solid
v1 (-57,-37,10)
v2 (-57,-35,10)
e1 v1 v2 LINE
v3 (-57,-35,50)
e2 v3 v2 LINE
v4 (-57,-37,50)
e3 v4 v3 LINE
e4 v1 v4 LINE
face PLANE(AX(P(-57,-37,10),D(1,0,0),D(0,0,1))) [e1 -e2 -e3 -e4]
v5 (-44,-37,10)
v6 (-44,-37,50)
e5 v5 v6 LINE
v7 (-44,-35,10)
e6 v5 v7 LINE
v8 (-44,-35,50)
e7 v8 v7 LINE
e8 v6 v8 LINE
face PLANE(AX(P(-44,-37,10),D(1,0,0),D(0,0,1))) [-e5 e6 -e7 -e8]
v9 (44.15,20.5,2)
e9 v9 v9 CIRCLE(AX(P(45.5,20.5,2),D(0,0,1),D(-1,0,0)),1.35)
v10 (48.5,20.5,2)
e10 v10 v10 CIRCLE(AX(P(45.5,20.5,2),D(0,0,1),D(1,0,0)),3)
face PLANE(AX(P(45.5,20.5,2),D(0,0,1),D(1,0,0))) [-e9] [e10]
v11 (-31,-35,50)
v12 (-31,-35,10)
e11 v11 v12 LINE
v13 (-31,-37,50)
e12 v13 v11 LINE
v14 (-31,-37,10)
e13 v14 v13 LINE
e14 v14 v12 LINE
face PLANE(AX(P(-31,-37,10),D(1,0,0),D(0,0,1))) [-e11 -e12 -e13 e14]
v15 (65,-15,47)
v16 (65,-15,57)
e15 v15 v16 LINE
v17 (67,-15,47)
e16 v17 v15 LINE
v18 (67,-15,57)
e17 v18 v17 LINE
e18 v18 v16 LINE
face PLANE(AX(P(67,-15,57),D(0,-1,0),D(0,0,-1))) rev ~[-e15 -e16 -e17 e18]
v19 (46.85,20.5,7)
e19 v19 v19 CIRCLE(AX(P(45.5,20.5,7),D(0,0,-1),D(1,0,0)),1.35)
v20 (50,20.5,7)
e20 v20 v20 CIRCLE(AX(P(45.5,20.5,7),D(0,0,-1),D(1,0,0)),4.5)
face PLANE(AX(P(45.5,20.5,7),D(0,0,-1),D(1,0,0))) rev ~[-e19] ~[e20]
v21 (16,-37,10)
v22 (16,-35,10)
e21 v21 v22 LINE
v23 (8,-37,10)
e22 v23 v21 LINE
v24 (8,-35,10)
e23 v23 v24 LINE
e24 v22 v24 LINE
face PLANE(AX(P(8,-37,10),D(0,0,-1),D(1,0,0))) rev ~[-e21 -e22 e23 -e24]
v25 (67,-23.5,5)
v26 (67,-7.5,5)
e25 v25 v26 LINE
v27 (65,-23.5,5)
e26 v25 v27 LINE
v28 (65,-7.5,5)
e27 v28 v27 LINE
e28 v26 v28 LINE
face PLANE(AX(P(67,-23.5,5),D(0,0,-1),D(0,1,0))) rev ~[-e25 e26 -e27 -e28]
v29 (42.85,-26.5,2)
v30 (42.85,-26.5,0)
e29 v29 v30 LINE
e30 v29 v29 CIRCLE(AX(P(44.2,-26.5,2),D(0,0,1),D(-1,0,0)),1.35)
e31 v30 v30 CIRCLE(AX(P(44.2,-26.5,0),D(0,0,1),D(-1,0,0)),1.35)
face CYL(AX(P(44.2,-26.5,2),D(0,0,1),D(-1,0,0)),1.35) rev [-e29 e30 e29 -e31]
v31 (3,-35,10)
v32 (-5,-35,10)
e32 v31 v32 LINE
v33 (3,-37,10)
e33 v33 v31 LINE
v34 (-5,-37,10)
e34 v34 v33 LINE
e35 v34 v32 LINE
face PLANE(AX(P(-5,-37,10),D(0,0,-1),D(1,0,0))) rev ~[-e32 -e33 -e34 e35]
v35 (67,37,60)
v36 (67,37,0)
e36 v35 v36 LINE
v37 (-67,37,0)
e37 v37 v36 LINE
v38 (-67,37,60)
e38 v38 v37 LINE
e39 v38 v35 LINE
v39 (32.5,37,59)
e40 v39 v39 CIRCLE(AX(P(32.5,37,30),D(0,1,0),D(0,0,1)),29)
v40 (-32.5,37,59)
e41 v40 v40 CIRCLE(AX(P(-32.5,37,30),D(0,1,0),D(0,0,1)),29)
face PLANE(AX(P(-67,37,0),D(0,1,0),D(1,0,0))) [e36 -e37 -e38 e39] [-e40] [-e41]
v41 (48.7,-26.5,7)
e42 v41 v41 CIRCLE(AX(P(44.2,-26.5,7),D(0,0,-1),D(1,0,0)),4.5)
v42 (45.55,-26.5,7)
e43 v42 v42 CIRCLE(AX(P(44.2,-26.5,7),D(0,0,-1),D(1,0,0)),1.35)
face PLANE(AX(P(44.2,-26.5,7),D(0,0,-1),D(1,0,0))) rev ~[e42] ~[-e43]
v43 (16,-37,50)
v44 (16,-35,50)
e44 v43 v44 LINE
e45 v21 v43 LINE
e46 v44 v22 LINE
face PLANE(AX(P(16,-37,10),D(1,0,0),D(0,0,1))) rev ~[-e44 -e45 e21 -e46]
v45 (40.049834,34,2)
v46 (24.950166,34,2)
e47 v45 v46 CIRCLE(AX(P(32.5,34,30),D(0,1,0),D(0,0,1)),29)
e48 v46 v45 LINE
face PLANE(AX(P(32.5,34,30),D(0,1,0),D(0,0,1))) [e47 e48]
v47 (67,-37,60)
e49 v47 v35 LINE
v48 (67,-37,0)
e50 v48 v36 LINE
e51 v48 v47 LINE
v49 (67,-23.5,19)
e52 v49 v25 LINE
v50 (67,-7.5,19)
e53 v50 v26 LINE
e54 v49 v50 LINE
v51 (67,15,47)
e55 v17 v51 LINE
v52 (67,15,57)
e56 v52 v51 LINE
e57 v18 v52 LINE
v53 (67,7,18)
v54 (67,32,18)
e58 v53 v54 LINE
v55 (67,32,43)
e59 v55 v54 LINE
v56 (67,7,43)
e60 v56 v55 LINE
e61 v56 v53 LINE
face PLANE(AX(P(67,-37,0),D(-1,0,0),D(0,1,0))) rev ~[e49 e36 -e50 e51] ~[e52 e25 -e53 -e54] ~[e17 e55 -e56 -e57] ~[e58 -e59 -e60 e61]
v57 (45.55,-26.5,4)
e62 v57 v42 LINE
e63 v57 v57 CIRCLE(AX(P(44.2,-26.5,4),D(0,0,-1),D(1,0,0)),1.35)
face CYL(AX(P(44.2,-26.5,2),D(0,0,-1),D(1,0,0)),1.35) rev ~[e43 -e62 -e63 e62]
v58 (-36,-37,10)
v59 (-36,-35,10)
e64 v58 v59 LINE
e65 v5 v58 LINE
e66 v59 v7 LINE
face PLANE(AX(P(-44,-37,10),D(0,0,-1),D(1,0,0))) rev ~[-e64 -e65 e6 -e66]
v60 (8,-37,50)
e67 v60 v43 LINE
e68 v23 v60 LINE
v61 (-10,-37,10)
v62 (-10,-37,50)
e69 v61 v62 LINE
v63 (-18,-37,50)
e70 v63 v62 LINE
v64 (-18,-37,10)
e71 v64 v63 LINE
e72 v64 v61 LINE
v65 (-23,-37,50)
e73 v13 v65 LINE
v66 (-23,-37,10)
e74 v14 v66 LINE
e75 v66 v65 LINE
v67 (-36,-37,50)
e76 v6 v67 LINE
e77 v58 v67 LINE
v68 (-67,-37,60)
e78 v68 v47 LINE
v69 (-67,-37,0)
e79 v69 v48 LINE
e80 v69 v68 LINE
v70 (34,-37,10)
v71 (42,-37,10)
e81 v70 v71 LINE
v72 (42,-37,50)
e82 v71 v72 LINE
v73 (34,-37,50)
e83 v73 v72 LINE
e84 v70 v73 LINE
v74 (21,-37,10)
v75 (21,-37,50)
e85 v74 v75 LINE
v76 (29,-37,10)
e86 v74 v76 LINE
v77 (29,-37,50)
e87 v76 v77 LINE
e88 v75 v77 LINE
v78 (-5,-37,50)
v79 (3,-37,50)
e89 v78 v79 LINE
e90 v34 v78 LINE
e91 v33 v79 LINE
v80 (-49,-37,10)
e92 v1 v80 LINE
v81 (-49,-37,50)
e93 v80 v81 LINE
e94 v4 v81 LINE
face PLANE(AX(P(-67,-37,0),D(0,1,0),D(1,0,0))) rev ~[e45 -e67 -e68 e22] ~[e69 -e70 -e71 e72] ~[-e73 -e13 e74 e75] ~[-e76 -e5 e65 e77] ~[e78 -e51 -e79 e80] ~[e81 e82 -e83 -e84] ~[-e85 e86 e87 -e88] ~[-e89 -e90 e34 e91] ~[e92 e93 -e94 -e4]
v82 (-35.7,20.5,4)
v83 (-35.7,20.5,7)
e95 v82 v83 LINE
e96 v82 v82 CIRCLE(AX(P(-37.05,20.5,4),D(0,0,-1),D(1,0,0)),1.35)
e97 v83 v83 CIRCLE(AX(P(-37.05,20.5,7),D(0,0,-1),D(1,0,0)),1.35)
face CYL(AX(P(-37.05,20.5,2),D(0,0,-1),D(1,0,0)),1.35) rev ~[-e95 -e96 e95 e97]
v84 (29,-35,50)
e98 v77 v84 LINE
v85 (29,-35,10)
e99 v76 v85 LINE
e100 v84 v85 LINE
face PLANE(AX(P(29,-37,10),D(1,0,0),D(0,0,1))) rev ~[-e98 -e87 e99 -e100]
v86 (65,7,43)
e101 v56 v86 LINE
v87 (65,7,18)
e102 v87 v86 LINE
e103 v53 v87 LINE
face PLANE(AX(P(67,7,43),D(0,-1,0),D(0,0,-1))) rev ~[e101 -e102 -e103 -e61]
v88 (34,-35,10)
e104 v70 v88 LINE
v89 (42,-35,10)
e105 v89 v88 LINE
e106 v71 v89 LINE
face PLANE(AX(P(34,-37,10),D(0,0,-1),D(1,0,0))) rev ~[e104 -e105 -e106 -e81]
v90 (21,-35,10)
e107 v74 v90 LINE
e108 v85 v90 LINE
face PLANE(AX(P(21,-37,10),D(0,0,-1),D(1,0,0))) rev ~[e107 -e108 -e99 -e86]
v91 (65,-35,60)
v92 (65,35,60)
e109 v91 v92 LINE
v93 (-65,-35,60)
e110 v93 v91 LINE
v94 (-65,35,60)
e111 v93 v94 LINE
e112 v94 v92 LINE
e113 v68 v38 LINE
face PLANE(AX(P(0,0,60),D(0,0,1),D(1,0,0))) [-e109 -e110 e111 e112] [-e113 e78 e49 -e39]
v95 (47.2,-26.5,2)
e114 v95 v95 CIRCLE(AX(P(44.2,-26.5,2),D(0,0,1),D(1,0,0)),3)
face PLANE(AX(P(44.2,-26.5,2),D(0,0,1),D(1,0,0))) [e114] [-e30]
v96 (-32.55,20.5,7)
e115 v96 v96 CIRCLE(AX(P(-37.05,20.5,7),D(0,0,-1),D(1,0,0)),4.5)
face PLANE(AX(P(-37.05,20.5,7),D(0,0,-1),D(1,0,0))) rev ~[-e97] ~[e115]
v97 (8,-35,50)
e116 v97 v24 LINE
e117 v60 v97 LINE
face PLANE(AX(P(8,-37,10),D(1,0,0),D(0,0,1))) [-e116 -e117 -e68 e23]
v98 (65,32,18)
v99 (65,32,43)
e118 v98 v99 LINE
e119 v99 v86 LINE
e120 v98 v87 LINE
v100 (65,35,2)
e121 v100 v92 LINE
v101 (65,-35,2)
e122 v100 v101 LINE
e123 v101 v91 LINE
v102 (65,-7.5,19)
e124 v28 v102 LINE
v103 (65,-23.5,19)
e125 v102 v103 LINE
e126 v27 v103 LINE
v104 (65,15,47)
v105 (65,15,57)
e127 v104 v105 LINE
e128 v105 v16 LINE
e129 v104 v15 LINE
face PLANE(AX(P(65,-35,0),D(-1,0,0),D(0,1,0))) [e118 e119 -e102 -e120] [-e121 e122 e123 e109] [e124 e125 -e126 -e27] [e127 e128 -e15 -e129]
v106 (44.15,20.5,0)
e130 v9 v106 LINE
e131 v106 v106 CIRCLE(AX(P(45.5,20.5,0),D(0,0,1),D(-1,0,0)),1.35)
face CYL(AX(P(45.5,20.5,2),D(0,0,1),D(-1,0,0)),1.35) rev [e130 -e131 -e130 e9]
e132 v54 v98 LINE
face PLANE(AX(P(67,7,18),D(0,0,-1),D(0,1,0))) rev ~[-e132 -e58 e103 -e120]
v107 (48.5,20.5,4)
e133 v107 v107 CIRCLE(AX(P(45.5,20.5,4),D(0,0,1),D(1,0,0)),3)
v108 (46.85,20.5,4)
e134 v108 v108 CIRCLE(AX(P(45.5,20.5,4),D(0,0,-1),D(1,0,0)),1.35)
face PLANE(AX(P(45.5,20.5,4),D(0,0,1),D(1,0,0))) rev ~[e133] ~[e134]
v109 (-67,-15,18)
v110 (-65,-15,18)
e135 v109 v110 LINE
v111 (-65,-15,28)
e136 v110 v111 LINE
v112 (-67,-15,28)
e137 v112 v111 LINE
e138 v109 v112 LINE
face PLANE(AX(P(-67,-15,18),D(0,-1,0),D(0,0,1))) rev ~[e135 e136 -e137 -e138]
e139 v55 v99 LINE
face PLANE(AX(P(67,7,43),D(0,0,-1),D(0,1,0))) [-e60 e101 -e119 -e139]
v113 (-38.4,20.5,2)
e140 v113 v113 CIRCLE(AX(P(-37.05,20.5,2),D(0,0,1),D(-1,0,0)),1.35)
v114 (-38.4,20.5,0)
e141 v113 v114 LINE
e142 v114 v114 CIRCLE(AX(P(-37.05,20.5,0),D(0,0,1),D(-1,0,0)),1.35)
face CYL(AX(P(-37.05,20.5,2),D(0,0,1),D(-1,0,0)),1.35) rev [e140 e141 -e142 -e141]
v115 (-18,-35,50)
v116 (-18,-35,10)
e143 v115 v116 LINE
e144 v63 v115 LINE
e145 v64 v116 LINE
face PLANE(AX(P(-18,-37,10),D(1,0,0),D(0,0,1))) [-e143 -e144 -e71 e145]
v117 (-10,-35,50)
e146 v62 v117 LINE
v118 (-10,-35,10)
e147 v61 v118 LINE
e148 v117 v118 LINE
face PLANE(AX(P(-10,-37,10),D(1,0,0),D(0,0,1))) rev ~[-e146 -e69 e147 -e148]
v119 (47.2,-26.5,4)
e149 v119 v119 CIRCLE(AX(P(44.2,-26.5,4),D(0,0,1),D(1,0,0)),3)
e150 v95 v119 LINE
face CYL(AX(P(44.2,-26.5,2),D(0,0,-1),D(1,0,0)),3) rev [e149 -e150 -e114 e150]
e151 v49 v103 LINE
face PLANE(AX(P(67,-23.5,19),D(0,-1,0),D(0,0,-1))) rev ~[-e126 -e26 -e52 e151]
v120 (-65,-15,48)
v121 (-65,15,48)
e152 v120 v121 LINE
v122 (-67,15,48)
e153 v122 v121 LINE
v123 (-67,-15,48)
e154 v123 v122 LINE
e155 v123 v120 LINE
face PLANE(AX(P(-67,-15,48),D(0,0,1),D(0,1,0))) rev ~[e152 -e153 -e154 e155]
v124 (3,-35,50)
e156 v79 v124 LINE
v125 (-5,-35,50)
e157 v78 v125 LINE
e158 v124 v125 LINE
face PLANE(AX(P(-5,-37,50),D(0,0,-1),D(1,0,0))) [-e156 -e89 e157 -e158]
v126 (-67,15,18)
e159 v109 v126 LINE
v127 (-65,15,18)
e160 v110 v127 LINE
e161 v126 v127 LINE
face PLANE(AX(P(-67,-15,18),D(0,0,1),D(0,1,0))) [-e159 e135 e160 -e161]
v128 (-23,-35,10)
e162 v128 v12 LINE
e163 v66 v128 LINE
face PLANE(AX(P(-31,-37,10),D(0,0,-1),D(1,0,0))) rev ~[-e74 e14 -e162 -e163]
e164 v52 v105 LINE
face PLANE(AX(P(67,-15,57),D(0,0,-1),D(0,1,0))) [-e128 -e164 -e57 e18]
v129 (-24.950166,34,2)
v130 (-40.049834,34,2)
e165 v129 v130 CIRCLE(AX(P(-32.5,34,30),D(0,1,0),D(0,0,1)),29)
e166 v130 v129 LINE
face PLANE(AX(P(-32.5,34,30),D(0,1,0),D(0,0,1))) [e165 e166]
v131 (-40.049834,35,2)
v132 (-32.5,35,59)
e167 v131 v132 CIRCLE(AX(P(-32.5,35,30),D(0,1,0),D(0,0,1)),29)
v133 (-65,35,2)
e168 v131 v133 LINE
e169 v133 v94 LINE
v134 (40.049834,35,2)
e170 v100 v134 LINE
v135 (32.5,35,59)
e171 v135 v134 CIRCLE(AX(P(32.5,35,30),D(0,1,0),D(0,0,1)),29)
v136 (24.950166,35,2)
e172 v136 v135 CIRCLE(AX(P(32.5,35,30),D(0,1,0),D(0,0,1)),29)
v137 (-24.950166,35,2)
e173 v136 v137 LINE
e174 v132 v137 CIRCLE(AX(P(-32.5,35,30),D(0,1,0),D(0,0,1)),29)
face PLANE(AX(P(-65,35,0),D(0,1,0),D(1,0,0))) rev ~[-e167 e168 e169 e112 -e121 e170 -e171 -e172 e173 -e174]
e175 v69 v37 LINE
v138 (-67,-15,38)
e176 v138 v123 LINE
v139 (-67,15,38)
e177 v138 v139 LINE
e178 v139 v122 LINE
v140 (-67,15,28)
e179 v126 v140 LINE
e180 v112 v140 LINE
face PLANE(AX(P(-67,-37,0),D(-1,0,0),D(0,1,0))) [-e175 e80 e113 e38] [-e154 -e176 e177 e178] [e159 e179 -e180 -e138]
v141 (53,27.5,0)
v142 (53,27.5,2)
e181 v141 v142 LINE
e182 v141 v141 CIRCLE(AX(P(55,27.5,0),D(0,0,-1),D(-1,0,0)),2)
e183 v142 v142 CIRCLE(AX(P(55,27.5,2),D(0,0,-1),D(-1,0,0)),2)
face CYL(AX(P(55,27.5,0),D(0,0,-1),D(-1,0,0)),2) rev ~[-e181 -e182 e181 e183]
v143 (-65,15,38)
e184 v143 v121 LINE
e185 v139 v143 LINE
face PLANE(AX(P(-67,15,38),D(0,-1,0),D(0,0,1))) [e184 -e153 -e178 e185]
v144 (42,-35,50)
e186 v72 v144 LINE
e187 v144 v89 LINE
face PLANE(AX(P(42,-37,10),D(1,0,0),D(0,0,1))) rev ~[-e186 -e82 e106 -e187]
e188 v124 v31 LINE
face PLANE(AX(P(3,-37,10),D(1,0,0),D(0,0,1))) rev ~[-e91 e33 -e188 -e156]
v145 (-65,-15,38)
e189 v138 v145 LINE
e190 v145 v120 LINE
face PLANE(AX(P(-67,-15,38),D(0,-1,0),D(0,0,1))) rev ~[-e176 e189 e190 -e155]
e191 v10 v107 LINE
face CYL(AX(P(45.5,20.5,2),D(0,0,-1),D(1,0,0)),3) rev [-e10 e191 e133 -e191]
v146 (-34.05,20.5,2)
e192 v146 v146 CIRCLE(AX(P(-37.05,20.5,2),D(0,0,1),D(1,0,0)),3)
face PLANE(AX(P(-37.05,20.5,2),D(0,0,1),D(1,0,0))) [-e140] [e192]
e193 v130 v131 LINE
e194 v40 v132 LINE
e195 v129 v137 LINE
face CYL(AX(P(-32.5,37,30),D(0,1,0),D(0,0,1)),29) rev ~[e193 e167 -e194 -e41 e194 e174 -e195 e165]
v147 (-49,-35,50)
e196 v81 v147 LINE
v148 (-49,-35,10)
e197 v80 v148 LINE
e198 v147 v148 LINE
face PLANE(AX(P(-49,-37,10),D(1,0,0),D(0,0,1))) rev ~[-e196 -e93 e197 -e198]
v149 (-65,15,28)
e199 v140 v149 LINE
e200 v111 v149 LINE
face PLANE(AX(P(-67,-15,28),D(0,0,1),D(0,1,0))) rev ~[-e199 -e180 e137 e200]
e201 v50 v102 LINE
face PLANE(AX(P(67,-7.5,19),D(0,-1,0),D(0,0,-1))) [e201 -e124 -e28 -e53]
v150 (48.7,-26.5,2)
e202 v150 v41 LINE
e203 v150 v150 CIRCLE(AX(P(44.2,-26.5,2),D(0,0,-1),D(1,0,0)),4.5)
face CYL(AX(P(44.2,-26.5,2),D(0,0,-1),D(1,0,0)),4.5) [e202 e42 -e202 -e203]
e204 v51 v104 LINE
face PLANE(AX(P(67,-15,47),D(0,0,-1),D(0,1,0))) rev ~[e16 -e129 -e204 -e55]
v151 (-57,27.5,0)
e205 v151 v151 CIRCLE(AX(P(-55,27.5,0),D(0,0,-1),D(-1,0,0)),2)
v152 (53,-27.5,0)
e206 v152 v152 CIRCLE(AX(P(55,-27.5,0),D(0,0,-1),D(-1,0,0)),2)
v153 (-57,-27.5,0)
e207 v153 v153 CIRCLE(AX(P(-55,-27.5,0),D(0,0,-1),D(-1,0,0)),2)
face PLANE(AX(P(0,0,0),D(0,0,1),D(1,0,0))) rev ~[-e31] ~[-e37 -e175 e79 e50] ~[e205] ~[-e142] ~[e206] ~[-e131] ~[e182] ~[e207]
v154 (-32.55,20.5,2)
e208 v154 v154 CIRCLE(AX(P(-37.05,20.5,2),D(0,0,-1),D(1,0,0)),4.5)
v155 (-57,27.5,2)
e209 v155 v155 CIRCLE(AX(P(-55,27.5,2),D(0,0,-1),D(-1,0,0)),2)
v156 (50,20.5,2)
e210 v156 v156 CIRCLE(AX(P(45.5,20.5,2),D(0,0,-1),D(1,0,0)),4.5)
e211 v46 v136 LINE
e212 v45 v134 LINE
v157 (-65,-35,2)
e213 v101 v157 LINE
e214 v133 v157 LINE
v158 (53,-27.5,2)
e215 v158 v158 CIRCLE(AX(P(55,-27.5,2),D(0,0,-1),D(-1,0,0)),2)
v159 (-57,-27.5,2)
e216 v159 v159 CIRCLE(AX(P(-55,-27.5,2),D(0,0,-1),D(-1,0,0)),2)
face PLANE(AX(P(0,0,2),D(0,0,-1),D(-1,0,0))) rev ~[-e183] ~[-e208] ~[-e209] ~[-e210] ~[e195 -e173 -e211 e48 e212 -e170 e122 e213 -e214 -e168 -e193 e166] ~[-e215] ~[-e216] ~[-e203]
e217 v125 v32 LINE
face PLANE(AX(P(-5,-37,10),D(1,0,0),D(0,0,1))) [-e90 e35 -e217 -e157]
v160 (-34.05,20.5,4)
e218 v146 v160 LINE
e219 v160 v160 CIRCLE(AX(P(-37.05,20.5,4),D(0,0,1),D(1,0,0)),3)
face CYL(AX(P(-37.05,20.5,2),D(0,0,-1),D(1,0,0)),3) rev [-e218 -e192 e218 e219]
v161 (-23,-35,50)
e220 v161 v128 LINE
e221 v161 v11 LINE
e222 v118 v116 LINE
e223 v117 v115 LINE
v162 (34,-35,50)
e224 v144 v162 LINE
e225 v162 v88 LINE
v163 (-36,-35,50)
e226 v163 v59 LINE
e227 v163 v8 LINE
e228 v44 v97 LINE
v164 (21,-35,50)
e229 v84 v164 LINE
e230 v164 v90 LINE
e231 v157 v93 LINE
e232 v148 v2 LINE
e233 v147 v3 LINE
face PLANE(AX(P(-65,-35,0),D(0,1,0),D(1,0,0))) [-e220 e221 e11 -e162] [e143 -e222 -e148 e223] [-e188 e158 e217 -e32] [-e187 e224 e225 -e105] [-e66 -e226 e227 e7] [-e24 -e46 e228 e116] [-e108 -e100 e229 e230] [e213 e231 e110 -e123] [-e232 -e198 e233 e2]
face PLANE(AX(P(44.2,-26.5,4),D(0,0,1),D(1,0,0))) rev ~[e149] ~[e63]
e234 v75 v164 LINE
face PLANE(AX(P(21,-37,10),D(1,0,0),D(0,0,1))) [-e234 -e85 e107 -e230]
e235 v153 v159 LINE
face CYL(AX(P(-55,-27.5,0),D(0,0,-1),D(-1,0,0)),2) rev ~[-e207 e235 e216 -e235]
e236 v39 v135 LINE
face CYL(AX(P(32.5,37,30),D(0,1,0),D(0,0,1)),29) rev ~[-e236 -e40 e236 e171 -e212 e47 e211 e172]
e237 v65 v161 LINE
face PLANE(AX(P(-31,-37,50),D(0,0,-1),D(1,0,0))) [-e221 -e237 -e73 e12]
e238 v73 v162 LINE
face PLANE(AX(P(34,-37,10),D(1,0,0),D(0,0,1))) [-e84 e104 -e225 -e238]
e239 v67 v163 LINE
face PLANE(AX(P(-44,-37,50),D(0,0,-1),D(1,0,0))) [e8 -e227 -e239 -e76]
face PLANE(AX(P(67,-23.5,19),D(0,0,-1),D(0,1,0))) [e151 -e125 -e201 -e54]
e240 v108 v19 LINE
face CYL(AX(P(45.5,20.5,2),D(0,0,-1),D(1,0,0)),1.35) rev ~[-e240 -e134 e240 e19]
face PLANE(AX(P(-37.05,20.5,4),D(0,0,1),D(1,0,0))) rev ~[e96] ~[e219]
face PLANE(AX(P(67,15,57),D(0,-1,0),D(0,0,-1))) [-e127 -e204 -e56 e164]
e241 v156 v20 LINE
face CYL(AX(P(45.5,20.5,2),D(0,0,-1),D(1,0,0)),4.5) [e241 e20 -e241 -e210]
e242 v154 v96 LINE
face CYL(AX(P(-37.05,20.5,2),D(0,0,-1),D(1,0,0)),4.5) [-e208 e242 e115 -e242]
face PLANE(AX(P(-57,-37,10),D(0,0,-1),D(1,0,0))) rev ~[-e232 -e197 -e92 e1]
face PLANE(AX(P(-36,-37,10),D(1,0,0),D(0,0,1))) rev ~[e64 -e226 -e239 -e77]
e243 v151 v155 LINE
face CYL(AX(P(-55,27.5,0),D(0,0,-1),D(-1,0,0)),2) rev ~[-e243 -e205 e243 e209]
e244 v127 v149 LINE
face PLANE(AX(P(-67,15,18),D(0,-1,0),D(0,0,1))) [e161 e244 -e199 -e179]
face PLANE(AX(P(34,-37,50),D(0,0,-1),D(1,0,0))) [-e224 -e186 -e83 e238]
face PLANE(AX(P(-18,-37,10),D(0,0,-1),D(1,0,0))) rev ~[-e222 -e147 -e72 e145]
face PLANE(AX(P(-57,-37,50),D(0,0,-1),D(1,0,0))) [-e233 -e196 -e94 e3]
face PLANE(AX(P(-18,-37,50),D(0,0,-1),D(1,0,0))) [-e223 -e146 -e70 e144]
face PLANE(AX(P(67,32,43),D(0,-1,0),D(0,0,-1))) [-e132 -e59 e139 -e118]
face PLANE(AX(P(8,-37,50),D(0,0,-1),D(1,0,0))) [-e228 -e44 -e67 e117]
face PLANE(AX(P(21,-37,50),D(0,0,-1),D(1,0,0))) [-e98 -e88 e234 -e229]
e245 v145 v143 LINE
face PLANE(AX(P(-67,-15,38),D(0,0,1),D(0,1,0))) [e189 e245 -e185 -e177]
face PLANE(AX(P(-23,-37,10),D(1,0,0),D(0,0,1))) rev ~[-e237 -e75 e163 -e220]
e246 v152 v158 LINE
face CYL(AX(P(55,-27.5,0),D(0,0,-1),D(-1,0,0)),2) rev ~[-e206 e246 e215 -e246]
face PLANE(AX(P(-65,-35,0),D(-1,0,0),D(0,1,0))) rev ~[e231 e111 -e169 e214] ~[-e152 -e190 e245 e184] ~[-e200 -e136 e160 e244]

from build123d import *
from build123d.topology import SkipClean

# Parameters (mm, degrees)
ESBO_O1_W                = 134
ESBO_O1_H                = 74
ESBO_O1_W_2              = 130
ESBO_O1_H_2              = 70
RESSALTO_EXTRUS_O1_DEPTH = 60
ESBO_O2_W                = 134
ESBO_O2_H                = 74
ESBO_O2_R                = 2
RESSALTO_EXTRUS_O2_DEPTH = 2
ESBO_O3_W                = 25
ESBO_O3_H                = 25
ESBO_O3_W_2              = 14
ESBO_O3_H_2              = 16
ESBO_O3_W_3              = 10
ESBO_O3_H_3              = 30
CORTE_EXTRUS_O1_DEPTH    = 10
ESBO_O6_W                = 8
ESBO_O6_H                = 40
CORTE_EXTRUS_O2_DEPTH    = 10
ESBO_O7_W                = 10
ESBO_O7_H                = 30
CORTE_EXTRUS_O3_DEPTH    = 12
ESBO_O8_R                = 4.5
ESBO_O8_R_2              = 1.35
RESSALTO_EXTRUS_O3_DEPTH = 5
ESBO_O8_3_R              = 1.35
CORTE_EXTRUS_O4_DEPTH    = 97.031244915
ESBO_O9_R                = 3
CORTE_EXTRUS_O5_DEPTH    = 2
ESBO_O10_R               = 29
CORTE_EXTRUS_O6_DEPTH    = 3


with BuildPart() as part:
    # Esboço1 → Ressalto-extrusão1 (new body)
    with BuildSketch(Plane.XY):
        Rectangle(ESBO_O1_W, ESBO_O1_H)
        Rectangle(ESBO_O1_W_2, ESBO_O1_H_2, mode=Mode.SUBTRACT)
    extrude(amount=RESSALTO_EXTRUS_O1_DEPTH)

    # Esboço2 → Ressalto-extrusão2 (add)
    with BuildSketch(Plane(origin=(0, 0, 0), x_dir=(-1, 0, 0), z_dir=(0, 0, -1))):
        Rectangle(ESBO_O2_W, ESBO_O2_H)
        with Locations((-55, -27.5)):
            Circle(ESBO_O2_R, mode=Mode.SUBTRACT)
        with Locations((55, -27.5)):
            Circle(ESBO_O2_R, mode=Mode.SUBTRACT)
        with Locations((55, 27.5)):
            Circle(ESBO_O2_R, mode=Mode.SUBTRACT)
        with Locations((-55, 27.5)):
            Circle(ESBO_O2_R, mode=Mode.SUBTRACT)
    extrude(amount=-RESSALTO_EXTRUS_O2_DEPTH)

    # Esboço3 → Corte-extrusão1 (cut)
    with BuildSketch(Plane(origin=(67, 0, 0), x_dir=(0, 0, -1), z_dir=(1, 0, 0))):
        with Locations((-30.5, 19.5)):
            Rectangle(ESBO_O3_W, ESBO_O3_H)
        with Locations((-12, -15.5)):
            Rectangle(ESBO_O3_W_2, ESBO_O3_H_2)
        with Locations((-52, 0)):
            Rectangle(ESBO_O3_W_3, ESBO_O3_H_3)
    extrude(amount=-CORTE_EXTRUS_O1_DEPTH, mode=Mode.SUBTRACT)

    # Esboço6 → Corte-extrusão2 (cut)
    with BuildSketch(Plane.XZ.offset(37)):
        with Locations((-53, 30)):
            Rectangle(ESBO_O6_W, ESBO_O6_H)
        with Locations((-40, 30)):
            Rectangle(ESBO_O6_W, ESBO_O6_H)
        with Locations((-27, 30)):
            Rectangle(ESBO_O6_W, ESBO_O6_H)
        with Locations((-14, 30)):
            Rectangle(ESBO_O6_W, ESBO_O6_H)
        with Locations((-1, 30)):
            Rectangle(ESBO_O6_W, ESBO_O6_H)
        with Locations((12, 30)):
            Rectangle(ESBO_O6_W, ESBO_O6_H)
        with Locations((25, 30)):
            Rectangle(ESBO_O6_W, ESBO_O6_H)
        with Locations((38, 30)):
            Rectangle(ESBO_O6_W, ESBO_O6_H)
    extrude(amount=-CORTE_EXTRUS_O2_DEPTH, mode=Mode.SUBTRACT)

    # Esboço7 → Corte-extrusão3 (cut)
    with BuildSketch(Plane.ZY.offset(67)):
        with Locations((43, 0)):
            Rectangle(ESBO_O7_W, ESBO_O7_H)
        with Locations((23, 0)):
            Rectangle(ESBO_O7_W, ESBO_O7_H)
    extrude(amount=-CORTE_EXTRUS_O3_DEPTH, mode=Mode.SUBTRACT)

    # Esboço8 → Ressalto-extrusão3 (add)
    # profile 1 of 3: a face of its own
    with BuildSketch(Plane(origin=(0, 0, 2), x_dir=(-1, 0, 0), z_dir=(0, 0, -1))):
        with Locations(Location((37.05, 20.5, 0), (0, 0, 180))):
            Circle(ESBO_O8_R)
        with Locations(Location((37.05, 20.5, 0), (0, 0, 180))):
            Circle(ESBO_O8_R_2, mode=Mode.SUBTRACT)
    # profile 2 of 3: a face of its own
    with BuildSketch(Plane(origin=(0, 0, 2), x_dir=(-1, 0, 0), z_dir=(0, 0, -1))):
        with Locations(Location((-45.5, 20.5, 0), (0, 0, 180))):
            Circle(ESBO_O8_R)
        with Locations(Location((-45.5, 20.5, 0), (0, 0, 180))):
            Circle(ESBO_O8_R_2, mode=Mode.SUBTRACT)
    # profile 3 of 3: a face of its own
    with BuildSketch(Plane(origin=(0, 0, 2), x_dir=(-1, 0, 0), z_dir=(0, 0, -1))):
        with Locations(Location((-44.2, -26.5, 0), (0, 0, 180))):
            Circle(ESBO_O8_R)
        with Locations(Location((-44.2, -26.5, 0), (0, 0, 180))):
            Circle(ESBO_O8_R_2, mode=Mode.SUBTRACT)
    extrude(amount=-RESSALTO_EXTRUS_O3_DEPTH)

    # Esboço8<3> → Corte-extrusão4 (cut, through all)
    with SkipClean():  # the faces are left unmerged after this step: merging them gives an invalid solid
        with BuildSketch(Plane(origin=(0, 0, 2), x_dir=(-1, 0, 0), z_dir=(0, 0, -1))):
            with Locations((-44.2, -26.5)):
                Circle(ESBO_O8_3_R)
            with Locations((37.05, 20.5)):
                Circle(ESBO_O8_3_R)
            with Locations((-45.5, 20.5)):
                Circle(ESBO_O8_3_R)
        extrude(amount=CORTE_EXTRUS_O4_DEPTH, mode=Mode.SUBTRACT)

    # Esboço9 → Corte-extrusão5 (cut)
    with BuildSketch(Plane.XY.offset(2)):
        with Locations((45.5, 20.5)):
            Circle(ESBO_O9_R)
        with Locations((44.2, -26.5)):
            Circle(ESBO_O9_R)
        with Locations((-37.05, 20.5)):
            Circle(ESBO_O9_R)
    extrude(amount=CORTE_EXTRUS_O5_DEPTH, mode=Mode.SUBTRACT)

    # Esboço10 → Corte-extrusão6 (cut)
    with BuildSketch(Plane(origin=(0, 37, 0), x_dir=(1, 0, 0), z_dir=(0, 1, 0))):
        with Locations(Location((32.5, -30, 0), (0, 0, 270))):
            Circle(ESBO_O10_R)
        with Locations(Location((-32.5, -30, 0), (0, 0, 270))):
            Circle(ESBO_O10_R)
    extrude(amount=-CORTE_EXTRUS_O6_DEPTH, mode=Mode.SUBTRACT)


solid = part.part
